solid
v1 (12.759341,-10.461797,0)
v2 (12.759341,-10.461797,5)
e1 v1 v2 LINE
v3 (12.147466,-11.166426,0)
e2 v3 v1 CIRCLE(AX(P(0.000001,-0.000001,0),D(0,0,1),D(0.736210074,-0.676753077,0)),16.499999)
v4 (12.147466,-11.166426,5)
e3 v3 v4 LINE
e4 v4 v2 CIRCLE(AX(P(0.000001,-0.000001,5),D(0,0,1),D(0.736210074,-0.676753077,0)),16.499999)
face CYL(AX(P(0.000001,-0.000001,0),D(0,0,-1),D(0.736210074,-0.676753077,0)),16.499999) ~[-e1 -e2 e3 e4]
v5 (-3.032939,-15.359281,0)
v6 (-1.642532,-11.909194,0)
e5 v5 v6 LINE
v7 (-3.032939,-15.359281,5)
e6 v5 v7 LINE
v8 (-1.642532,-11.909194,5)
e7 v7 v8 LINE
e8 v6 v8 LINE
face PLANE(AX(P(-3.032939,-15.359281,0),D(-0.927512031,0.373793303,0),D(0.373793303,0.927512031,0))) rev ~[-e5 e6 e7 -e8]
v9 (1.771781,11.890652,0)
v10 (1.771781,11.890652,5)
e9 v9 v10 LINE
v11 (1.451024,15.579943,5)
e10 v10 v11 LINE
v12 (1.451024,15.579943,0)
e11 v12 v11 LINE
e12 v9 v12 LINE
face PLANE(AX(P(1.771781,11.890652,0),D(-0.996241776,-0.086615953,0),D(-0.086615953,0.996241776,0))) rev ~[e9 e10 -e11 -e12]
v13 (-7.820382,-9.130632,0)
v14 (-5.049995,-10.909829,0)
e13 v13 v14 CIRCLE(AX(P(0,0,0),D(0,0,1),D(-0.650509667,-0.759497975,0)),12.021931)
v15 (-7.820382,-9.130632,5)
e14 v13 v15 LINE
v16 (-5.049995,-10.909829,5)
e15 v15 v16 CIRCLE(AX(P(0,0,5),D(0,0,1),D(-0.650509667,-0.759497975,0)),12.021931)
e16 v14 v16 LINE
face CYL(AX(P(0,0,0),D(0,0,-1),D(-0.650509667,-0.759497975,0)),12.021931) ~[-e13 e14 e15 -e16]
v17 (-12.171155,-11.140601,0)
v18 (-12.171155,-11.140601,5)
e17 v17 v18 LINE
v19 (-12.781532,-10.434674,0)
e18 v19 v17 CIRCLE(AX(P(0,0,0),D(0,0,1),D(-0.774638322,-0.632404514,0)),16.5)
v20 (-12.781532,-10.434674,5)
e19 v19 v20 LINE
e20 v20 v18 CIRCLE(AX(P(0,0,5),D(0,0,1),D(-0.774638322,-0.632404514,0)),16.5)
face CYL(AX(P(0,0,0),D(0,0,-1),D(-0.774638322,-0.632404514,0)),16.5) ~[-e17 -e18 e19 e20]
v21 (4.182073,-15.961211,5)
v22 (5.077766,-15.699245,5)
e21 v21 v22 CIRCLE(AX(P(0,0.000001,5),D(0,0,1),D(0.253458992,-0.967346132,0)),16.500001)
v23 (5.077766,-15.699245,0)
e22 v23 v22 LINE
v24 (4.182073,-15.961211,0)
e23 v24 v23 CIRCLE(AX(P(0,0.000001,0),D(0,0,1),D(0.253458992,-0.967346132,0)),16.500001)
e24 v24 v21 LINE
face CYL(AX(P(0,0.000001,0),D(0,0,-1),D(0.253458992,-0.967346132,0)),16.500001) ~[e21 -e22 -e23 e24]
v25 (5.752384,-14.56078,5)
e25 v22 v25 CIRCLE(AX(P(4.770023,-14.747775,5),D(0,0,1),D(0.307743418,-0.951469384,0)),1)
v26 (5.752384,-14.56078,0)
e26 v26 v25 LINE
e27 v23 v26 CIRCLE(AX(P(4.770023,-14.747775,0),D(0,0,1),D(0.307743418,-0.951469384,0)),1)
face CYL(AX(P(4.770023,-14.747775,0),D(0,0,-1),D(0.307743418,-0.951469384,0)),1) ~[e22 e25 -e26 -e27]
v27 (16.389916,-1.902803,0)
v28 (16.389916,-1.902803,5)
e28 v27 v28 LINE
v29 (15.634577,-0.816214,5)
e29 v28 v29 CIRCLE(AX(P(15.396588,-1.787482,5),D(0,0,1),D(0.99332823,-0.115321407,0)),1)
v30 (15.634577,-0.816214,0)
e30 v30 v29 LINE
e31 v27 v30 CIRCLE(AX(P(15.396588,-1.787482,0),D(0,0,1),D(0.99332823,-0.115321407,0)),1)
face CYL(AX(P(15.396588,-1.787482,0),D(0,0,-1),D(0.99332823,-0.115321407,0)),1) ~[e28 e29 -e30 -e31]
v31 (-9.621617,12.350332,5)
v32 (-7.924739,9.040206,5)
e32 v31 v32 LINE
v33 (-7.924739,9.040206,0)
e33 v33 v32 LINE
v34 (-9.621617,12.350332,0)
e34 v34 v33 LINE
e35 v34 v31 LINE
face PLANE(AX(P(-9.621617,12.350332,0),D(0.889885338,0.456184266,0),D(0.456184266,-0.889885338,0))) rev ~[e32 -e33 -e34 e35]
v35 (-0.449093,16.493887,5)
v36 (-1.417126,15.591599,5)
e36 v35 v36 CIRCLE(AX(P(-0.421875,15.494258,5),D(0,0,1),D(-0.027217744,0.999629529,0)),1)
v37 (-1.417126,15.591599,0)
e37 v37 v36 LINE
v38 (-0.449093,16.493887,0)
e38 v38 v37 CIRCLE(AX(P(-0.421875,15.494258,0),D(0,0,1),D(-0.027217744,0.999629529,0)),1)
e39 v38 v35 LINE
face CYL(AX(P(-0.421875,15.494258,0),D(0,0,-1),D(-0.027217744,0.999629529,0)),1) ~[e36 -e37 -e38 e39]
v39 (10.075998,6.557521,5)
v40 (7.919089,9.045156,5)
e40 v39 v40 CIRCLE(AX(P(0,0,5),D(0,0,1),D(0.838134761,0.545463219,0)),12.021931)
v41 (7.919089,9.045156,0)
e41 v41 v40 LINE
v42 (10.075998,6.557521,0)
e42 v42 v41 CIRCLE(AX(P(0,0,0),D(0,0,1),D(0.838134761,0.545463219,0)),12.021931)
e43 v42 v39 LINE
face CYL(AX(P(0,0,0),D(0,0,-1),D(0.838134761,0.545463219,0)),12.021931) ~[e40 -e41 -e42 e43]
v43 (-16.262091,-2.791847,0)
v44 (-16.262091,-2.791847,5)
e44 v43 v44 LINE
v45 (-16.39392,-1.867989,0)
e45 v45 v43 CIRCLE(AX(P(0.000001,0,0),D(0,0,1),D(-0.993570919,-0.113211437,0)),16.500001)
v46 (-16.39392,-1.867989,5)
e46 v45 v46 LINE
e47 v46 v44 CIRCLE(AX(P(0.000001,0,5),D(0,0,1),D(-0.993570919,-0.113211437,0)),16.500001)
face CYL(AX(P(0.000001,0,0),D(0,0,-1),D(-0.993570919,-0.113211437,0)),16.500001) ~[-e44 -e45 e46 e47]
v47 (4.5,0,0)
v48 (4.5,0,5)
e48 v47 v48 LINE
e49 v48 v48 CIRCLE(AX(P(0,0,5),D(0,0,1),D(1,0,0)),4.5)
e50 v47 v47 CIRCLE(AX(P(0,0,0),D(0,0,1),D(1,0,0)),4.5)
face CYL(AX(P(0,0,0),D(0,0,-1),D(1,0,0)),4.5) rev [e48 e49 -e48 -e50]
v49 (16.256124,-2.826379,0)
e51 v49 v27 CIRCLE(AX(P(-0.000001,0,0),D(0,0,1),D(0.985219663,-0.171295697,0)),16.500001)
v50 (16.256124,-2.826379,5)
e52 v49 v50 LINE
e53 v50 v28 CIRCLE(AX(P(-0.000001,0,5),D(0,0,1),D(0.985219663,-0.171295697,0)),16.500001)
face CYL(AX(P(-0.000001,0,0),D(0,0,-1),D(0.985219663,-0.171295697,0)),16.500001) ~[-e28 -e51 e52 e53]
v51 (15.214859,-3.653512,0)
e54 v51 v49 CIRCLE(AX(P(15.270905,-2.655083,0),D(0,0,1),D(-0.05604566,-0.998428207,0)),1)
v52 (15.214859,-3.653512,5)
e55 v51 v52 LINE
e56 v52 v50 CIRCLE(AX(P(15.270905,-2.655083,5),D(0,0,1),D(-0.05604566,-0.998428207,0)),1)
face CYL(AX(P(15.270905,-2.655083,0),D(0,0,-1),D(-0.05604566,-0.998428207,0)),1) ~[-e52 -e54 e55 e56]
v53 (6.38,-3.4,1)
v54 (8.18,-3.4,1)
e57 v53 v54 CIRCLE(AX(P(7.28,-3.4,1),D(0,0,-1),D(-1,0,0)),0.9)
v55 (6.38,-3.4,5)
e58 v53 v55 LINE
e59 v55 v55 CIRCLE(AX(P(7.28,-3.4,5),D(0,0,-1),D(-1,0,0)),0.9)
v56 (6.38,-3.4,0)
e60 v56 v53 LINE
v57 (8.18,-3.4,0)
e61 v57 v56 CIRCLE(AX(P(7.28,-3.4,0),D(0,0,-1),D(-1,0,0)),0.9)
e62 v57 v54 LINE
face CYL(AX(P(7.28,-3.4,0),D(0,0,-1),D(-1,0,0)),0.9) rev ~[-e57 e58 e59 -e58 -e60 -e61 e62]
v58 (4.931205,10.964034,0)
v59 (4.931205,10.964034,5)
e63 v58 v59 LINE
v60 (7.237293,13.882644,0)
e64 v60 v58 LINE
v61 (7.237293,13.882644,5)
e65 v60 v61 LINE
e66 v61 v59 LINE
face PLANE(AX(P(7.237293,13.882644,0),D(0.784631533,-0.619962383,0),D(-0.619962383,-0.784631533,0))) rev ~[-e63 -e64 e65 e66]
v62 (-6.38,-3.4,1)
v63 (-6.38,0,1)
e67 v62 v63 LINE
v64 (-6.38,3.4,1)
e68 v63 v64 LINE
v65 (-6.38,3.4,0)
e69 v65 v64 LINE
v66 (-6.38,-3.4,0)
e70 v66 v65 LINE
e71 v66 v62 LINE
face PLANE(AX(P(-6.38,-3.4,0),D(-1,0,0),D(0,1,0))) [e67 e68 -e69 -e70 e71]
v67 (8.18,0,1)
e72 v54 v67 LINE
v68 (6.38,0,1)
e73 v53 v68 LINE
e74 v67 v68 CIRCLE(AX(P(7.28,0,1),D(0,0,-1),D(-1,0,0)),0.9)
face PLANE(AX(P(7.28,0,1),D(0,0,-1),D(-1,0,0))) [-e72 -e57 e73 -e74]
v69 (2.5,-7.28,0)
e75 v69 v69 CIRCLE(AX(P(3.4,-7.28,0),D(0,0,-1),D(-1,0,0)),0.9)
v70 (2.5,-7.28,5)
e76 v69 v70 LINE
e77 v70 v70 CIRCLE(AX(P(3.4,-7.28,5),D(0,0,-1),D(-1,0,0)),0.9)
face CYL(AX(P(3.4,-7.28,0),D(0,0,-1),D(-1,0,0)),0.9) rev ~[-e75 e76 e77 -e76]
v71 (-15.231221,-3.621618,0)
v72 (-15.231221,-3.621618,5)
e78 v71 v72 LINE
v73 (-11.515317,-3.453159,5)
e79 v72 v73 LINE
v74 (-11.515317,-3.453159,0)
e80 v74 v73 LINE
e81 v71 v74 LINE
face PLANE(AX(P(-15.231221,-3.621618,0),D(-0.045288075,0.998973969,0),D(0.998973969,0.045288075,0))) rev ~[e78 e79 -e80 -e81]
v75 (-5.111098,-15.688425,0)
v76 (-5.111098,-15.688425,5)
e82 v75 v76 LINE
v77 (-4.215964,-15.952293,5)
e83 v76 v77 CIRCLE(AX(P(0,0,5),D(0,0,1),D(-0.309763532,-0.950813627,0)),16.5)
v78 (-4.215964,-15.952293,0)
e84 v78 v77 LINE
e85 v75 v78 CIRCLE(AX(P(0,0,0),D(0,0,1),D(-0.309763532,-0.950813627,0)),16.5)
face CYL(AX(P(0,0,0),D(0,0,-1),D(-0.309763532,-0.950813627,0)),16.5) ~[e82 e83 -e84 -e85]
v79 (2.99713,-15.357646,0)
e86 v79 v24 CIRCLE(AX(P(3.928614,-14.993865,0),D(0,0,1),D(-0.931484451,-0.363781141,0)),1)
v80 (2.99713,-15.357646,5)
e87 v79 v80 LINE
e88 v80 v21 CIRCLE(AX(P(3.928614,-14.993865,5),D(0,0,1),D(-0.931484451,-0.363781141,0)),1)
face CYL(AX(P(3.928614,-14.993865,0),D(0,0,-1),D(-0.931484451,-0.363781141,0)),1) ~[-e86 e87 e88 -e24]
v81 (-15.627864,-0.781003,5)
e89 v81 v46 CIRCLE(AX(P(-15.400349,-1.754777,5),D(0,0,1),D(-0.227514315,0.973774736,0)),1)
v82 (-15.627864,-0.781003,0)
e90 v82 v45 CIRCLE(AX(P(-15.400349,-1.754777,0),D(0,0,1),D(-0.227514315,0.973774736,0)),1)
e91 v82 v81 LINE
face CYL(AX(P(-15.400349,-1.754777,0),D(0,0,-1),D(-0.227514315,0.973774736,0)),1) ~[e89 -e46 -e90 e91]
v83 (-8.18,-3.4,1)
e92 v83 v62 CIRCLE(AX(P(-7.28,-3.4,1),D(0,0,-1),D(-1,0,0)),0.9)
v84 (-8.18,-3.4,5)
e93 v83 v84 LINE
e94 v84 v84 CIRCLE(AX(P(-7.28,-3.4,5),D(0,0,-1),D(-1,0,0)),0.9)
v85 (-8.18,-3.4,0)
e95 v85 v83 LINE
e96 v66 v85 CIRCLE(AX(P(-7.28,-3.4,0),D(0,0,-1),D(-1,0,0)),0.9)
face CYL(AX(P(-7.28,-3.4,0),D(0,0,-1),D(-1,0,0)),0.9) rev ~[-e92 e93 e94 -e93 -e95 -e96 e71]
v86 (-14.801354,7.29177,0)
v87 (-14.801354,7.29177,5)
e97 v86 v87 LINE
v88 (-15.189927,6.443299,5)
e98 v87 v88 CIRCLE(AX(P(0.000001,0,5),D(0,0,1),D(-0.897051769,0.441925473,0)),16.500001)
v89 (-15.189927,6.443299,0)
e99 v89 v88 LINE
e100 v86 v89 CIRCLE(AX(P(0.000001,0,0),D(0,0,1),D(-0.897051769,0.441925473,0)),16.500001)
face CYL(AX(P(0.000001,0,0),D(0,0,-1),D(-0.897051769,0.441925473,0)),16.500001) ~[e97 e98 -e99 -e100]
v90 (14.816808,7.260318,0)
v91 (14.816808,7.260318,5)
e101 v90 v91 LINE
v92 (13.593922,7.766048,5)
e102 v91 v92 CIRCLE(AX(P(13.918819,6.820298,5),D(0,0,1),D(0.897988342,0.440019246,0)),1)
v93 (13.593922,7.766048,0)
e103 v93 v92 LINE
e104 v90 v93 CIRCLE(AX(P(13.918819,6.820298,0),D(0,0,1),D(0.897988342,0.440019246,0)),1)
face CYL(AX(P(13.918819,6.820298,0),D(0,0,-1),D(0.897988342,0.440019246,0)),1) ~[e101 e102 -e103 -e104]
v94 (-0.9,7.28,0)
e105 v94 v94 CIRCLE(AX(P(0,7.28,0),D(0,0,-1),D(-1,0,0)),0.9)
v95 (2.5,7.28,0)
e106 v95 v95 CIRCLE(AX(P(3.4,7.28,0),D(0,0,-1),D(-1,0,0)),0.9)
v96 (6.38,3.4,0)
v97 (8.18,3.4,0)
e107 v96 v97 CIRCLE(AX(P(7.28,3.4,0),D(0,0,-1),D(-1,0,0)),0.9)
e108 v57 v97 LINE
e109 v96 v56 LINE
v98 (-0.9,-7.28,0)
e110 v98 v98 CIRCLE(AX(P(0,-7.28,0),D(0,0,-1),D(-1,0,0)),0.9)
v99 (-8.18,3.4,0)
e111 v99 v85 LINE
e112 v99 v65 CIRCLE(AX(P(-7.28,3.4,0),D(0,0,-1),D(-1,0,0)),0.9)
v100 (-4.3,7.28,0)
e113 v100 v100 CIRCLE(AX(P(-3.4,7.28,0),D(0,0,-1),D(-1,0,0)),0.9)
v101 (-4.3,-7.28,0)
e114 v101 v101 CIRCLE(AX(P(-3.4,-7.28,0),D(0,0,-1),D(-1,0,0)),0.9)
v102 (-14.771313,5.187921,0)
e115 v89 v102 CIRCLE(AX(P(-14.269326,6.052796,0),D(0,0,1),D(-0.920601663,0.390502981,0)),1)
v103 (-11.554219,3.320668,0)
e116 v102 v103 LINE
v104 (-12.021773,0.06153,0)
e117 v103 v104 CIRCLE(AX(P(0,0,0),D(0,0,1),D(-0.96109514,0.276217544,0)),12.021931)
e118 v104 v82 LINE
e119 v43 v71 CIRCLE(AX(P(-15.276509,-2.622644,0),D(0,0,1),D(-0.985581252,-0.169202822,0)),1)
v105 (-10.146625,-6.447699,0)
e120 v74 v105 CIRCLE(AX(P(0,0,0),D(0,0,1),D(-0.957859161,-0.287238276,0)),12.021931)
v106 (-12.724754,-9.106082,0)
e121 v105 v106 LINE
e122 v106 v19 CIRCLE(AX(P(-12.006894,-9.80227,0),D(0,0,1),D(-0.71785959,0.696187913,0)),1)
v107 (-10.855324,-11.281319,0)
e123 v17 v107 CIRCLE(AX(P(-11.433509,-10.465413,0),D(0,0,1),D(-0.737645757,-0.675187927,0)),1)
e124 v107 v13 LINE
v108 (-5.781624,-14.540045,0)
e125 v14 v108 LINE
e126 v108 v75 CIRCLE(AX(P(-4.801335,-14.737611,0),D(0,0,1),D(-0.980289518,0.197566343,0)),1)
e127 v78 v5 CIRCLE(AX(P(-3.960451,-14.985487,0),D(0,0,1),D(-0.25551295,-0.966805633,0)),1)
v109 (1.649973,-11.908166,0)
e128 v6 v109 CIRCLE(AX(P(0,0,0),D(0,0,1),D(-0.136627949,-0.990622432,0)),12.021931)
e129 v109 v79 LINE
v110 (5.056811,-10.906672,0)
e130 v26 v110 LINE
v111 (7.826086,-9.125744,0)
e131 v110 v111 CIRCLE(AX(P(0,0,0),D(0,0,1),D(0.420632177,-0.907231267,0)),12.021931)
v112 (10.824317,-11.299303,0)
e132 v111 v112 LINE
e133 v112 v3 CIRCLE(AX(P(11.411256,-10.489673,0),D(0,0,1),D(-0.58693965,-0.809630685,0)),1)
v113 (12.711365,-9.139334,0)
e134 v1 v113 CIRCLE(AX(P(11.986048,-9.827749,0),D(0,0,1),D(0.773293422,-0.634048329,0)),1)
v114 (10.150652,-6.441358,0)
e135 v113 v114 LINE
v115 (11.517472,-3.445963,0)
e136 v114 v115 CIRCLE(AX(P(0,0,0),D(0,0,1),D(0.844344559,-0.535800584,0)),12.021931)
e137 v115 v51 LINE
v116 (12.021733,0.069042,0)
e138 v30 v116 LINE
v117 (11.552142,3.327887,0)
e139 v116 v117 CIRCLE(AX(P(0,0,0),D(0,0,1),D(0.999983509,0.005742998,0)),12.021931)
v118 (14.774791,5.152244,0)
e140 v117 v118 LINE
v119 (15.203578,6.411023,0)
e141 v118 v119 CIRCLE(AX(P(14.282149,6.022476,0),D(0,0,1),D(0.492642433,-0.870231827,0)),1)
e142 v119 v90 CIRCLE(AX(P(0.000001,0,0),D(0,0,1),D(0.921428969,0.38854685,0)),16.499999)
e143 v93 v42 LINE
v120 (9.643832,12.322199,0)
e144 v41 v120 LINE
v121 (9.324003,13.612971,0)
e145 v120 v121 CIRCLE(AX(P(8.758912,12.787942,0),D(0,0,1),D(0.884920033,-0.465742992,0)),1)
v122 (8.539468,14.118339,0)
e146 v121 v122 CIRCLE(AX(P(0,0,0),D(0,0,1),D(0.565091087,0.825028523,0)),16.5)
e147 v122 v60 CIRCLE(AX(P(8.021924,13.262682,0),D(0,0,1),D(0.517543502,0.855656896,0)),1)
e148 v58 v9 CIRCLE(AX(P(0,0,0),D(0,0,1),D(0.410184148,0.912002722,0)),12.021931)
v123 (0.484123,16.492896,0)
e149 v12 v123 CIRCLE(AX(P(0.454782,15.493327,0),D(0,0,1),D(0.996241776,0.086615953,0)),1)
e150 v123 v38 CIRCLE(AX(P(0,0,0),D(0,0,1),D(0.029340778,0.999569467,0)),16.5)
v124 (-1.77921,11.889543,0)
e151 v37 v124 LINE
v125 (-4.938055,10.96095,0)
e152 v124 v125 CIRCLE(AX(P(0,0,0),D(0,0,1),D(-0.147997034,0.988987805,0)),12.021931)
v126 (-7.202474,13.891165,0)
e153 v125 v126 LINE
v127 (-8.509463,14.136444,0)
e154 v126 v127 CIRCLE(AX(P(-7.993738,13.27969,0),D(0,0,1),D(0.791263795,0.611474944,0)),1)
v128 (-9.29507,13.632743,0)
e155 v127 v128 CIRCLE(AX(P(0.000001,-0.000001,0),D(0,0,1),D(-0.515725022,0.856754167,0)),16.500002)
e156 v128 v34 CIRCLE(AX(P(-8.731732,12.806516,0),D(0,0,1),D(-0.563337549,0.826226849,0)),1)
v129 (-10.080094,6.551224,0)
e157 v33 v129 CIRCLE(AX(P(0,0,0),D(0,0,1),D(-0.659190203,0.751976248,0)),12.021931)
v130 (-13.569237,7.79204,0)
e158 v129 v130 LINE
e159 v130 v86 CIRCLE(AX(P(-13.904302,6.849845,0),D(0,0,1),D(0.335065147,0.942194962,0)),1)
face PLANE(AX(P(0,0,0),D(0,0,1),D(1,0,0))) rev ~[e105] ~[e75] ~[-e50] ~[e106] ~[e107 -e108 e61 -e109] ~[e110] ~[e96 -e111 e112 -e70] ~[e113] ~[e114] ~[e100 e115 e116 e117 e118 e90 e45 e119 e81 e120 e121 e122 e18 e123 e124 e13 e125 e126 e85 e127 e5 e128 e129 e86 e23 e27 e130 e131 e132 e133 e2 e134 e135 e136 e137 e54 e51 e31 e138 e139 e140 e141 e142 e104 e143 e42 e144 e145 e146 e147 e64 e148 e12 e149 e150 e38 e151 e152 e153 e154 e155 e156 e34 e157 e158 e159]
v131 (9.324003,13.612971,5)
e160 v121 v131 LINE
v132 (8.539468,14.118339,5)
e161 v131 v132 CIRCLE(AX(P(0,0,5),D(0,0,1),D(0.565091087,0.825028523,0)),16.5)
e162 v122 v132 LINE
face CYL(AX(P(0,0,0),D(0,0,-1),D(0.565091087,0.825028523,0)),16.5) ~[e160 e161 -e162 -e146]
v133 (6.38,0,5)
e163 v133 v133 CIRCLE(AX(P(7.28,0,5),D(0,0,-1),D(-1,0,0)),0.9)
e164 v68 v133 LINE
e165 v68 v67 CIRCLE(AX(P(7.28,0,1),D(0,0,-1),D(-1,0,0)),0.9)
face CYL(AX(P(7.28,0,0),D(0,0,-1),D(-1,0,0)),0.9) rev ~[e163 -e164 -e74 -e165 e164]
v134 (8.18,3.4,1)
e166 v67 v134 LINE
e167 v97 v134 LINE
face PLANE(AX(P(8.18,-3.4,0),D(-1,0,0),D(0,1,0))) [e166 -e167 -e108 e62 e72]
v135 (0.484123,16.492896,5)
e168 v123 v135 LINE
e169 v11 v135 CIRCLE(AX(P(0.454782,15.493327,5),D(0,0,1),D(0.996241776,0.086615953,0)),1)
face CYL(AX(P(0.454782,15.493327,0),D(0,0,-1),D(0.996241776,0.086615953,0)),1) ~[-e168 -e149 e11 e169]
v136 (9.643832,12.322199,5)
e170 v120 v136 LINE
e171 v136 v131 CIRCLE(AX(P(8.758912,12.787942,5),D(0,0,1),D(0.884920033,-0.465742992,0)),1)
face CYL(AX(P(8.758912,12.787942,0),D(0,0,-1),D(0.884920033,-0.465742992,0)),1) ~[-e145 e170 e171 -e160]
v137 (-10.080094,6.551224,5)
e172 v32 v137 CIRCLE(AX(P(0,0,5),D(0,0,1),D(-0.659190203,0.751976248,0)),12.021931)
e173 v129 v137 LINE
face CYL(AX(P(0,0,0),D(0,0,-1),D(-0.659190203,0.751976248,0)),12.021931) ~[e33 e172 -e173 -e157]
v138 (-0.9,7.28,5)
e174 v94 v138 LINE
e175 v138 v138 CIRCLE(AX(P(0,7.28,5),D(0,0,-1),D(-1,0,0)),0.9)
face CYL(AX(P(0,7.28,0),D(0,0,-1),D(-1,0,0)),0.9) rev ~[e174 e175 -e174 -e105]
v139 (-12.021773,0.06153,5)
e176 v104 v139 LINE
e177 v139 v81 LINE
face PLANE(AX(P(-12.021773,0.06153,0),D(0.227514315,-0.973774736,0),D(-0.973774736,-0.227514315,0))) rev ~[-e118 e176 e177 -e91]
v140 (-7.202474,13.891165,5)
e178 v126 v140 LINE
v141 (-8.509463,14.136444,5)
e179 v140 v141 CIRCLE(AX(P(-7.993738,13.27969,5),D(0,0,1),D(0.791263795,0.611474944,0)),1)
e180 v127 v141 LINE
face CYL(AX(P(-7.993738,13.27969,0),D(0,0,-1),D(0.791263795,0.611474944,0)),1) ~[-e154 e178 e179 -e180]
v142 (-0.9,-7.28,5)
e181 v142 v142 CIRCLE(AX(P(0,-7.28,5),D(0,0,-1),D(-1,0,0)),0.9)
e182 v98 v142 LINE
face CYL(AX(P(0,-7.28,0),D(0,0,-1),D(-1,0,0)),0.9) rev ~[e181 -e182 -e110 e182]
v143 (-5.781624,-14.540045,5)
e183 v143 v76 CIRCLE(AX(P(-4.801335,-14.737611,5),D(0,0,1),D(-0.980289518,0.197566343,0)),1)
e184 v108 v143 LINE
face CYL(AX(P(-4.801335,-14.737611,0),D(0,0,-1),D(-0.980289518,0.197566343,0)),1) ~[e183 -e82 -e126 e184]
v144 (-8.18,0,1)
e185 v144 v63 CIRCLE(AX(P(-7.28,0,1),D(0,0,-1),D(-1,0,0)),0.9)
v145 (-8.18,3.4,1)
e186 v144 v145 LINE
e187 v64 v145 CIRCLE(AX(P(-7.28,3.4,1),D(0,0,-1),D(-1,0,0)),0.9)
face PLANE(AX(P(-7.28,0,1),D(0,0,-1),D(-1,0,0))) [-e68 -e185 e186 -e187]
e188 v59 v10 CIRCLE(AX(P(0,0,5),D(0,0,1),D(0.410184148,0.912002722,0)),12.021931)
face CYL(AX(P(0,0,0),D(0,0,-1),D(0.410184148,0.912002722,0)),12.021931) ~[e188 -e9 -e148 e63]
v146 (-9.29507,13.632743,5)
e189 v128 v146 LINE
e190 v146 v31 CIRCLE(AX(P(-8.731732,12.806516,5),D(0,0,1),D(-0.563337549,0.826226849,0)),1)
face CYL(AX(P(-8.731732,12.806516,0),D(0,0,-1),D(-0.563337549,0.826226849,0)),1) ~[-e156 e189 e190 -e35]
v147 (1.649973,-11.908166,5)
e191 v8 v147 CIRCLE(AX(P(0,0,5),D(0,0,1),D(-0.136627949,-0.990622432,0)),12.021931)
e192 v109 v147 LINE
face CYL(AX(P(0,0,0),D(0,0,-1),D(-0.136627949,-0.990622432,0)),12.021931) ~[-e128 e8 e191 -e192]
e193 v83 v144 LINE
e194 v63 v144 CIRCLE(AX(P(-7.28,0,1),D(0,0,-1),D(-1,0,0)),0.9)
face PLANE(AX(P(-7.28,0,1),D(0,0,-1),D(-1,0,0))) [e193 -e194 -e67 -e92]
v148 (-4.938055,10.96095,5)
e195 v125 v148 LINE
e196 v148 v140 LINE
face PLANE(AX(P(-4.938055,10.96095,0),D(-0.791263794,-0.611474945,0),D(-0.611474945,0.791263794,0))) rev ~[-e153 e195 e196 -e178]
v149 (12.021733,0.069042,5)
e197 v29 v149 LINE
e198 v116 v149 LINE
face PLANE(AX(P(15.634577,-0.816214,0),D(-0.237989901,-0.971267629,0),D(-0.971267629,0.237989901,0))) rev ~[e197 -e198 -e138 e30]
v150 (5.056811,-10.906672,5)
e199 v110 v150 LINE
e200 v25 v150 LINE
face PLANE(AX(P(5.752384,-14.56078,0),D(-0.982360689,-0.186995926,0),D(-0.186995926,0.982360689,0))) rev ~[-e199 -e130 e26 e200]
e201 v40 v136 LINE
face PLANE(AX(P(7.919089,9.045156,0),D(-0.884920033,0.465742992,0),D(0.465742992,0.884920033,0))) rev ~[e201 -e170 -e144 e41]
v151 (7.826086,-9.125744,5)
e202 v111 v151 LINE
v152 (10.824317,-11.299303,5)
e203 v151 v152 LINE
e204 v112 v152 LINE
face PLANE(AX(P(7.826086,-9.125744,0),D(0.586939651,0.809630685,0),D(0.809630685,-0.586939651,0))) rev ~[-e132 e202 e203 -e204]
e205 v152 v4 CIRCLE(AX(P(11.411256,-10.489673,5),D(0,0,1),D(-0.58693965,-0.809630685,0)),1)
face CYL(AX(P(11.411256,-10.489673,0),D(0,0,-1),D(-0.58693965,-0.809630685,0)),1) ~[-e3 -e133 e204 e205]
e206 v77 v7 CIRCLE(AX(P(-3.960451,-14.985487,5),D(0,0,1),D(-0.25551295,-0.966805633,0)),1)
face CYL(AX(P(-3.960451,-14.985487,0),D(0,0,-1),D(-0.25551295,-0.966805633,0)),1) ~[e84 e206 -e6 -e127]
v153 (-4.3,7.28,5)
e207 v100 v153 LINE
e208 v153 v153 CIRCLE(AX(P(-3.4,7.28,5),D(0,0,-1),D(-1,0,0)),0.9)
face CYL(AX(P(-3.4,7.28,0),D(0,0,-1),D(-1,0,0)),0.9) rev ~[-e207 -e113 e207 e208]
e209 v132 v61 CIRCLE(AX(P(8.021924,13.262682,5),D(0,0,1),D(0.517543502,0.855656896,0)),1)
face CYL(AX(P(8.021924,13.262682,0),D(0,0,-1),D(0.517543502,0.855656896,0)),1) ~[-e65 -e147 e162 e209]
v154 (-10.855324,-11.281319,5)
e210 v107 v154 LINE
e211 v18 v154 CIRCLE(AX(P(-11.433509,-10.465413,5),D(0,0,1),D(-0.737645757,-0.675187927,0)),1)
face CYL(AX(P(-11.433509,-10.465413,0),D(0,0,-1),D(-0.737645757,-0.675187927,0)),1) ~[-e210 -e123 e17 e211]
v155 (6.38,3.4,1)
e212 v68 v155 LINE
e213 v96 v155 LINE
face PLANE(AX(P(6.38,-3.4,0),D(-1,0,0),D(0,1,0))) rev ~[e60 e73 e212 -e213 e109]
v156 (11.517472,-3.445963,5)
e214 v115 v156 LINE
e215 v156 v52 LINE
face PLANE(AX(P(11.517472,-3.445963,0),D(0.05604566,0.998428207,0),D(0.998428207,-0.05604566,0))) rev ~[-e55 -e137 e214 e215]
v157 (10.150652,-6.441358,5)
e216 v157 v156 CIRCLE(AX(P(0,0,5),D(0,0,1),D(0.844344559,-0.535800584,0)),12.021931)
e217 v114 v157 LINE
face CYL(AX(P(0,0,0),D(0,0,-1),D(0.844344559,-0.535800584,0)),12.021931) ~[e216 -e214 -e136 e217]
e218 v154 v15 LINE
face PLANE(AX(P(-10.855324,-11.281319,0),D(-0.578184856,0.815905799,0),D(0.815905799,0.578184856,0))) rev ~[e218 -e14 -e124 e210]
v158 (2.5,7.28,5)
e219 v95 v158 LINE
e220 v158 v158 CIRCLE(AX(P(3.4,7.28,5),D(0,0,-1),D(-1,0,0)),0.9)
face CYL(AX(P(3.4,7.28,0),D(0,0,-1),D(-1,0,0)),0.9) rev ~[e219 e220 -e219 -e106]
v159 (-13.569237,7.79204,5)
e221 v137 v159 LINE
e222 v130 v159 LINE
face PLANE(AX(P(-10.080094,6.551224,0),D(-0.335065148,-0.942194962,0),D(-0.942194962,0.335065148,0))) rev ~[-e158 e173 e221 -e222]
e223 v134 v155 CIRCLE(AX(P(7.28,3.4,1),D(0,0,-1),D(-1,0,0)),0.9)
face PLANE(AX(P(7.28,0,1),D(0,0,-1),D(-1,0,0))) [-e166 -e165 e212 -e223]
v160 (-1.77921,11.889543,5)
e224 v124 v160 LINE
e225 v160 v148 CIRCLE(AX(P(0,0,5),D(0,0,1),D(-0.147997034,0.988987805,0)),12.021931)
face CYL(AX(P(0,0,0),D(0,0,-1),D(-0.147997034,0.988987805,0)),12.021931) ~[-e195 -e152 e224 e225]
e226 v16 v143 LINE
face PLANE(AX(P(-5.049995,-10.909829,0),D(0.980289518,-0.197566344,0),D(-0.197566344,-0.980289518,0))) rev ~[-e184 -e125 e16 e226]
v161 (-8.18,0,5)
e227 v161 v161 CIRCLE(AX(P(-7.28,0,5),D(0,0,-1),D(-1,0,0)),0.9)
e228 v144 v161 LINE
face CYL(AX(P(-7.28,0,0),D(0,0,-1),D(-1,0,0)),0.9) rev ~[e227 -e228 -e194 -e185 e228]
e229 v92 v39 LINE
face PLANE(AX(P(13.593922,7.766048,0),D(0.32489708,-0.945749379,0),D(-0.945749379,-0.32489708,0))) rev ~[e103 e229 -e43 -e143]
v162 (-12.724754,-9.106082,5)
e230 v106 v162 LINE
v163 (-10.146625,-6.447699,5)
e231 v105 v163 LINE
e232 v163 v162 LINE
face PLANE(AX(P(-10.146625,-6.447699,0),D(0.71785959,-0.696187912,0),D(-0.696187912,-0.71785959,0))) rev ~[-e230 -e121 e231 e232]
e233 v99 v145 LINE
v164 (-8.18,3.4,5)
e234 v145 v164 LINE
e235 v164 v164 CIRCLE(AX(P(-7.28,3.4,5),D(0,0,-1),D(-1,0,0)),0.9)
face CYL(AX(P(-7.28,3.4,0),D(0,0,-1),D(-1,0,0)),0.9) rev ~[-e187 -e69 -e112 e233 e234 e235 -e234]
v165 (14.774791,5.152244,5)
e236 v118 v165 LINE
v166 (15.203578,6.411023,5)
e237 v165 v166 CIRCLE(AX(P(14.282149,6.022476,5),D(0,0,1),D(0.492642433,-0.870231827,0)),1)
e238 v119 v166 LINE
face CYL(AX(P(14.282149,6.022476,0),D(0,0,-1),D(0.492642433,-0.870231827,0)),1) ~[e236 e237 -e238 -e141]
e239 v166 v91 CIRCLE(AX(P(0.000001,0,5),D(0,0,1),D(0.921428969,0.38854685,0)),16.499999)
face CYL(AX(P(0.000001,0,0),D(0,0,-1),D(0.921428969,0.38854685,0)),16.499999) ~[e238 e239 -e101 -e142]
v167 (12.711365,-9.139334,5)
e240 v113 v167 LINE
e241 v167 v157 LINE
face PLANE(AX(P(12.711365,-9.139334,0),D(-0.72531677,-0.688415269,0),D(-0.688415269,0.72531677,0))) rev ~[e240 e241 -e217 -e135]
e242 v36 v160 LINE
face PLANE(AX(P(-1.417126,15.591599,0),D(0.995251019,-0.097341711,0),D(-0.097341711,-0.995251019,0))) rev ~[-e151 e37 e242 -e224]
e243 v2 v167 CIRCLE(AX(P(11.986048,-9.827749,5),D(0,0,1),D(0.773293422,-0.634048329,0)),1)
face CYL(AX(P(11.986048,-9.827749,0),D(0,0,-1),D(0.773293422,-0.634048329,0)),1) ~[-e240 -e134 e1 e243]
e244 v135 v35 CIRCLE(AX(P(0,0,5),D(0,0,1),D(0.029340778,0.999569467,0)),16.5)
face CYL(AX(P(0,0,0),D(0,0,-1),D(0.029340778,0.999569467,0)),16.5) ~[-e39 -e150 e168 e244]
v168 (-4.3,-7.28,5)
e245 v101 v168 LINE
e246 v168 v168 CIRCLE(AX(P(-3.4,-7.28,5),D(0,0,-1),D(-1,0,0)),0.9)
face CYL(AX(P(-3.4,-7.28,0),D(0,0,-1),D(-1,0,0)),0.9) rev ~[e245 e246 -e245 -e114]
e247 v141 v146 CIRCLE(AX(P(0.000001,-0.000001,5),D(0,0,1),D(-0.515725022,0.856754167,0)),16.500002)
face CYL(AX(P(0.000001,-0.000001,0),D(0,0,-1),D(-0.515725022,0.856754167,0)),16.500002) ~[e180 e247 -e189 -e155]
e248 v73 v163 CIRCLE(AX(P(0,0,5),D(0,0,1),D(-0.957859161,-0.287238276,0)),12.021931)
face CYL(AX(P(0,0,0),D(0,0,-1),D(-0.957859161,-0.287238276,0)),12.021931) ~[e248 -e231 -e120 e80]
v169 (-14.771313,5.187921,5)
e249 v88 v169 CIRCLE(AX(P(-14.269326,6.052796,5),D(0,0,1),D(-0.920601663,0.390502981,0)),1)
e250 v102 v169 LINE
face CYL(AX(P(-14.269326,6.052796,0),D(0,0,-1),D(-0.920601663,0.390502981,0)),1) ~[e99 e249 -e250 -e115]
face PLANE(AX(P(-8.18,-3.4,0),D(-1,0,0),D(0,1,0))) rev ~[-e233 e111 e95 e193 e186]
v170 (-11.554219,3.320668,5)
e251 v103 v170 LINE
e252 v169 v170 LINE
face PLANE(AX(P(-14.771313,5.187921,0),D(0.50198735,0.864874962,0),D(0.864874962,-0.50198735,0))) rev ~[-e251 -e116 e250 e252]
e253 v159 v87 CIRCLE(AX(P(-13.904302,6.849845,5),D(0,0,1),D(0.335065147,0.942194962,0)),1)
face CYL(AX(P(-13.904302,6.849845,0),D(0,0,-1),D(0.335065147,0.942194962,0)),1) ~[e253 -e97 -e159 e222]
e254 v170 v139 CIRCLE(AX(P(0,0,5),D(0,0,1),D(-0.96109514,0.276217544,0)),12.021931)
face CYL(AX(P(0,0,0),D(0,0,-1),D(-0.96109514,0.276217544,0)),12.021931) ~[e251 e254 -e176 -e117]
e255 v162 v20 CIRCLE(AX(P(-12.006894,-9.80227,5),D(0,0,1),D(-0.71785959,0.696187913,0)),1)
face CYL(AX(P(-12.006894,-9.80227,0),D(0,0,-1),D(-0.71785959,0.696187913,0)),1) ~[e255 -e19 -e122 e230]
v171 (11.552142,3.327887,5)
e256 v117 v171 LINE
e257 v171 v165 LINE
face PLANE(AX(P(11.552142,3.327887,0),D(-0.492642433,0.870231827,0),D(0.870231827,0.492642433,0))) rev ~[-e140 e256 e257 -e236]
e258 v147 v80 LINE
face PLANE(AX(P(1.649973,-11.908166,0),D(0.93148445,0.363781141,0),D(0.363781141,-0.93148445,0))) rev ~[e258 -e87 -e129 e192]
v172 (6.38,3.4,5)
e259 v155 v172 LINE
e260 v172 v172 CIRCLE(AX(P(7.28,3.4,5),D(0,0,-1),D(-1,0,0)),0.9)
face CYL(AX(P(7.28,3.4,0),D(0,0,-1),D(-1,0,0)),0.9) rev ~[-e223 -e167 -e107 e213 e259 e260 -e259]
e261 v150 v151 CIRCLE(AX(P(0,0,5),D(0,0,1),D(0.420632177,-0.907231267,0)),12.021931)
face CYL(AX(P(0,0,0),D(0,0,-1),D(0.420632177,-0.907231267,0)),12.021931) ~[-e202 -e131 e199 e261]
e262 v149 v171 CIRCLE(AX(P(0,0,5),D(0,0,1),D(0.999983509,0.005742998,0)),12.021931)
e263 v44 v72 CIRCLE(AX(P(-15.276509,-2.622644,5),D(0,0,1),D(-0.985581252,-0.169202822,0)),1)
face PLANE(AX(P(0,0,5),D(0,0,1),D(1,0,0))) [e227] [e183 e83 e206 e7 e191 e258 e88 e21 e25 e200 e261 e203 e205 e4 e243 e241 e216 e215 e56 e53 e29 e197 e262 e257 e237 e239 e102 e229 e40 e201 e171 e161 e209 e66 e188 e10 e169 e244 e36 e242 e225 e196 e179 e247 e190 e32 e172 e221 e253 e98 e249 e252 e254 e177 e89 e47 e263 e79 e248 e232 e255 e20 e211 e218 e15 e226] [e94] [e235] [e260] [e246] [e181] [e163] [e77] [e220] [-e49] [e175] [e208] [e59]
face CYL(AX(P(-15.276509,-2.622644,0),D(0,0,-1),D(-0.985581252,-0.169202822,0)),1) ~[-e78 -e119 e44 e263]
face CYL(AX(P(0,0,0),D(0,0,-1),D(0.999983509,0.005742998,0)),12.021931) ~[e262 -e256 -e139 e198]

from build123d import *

# Parameters (mm, degrees)
ESBO_O1_R                = 4.5
RESSALTO_EXTRUS_O1_DEPTH = 5
ESBO_O3_R                = 0.9
CORTE_EXTRUS_O4_DEPTH    = 11.8
ESBO_O5_W                = 1.8
ESBO_O5_H                = 6.8
CORTE_EXTRUS_O5_DEPTH    = 1


with BuildPart() as part:
    # Esboço1 → Ressalto-extrusão1 (new body)
    with BuildSketch(Plane.XY):
        with BuildLine():
            Line((7.237292739, 13.882644275), (4.931205446, 10.964033635))
            ThreePointArc((4.931205446, 10.964033635), (3.383365404, 11.536015744), (1.77178072, 11.89065237))
            Line((1.77178072, 11.89065237), (1.451023847, 15.579942687))
            ThreePointArc((1.451023847, 15.579942687), (1.141313879, 16.220426504), (0.484122849, 16.4928962))
            ThreePointArc((0.484122849, 16.4928962), (0.017522037, 16.499990696), (-0.449092791, 16.493887221))
            ThreePointArc((-0.449092791, 16.493887221), (-1.103704511, 16.225768855), (-1.417126065, 15.591599404))
            Line((-1.417126065, 15.591599404), (-1.779210104, 11.889542973))
            ThreePointArc((-1.779210104, 11.889542973), (-3.390572883, 11.533899437), (-4.938055227, 10.960950291))
            Line((-4.938055227, 10.960950291), (-7.202474013, 13.891164545))
            ThreePointArc((-7.202474013, 13.891164545), (-7.809290312, 14.262531969), (-8.509462826, 14.136443768))
            ThreePointArc((-8.509462826, 14.136443768), (-8.905827982, 13.890148593), (-9.295069567, 13.632743002))
            ThreePointArc((-9.295069567, 13.632743002), (-9.700808257, 13.053277663), (-9.621617356, 12.350331887))
            Line((-9.621617356, 12.350331887), (-7.924739018, 9.040206424))
            ThreePointArc((-7.924739018, 9.040206424), (-9.088028236, 7.869851554), (-10.08009353, 6.55122394))
            Line((-10.08009353, 6.55122394), (-13.569237263, 7.792039811))
            ThreePointArc((-13.569237263, 7.792039811), (-14.280500006, 7.776384308), (-14.80135418, 7.291770323))
            ThreePointArc((-14.80135418, 7.291770323), (-15.001640543, 6.870282455), (-15.189927432, 6.443299203))
            ThreePointArc((-15.189927432, 6.443299203), (-15.217973923, 5.736463043), (-14.771313119, 5.187921259))
            Line((-14.771313119, 5.187921259), (-11.554219287, 3.320668211))
            ThreePointArc((-11.554219287, 3.320668211), (-11.900098837, 1.707181407), (-12.02177336, 0.061530278))
            Line((-12.02177336, 0.061530278), (-15.627863558, -0.781002507))
            ThreePointArc((-15.627863558, -0.781002507), (-16.21775185, -1.178710425), (-16.393920163, -1.867988679))
            ThreePointArc((-16.393920163, -1.867988679), (-16.334538228, -2.330849819), (-16.262090664, -2.791846566))
            ThreePointArc((-16.262090664, -2.791846566), (-15.903540395, -3.401638061), (-15.231221337, -3.621617713))
            Line((-15.231221337, -3.621617713), (-11.51531657, -3.453158696))
            ThreePointArc((-11.51531657, -3.453158696), (-10.93397214, -4.997506773), (-10.14662509, -6.447698813))
            Line((-10.14662509, -6.447698813), (-12.724753595, -9.106082048))
            ThreePointArc((-12.724753595, -9.106082048), (-13.005982071, -9.759572927), (-12.781532328, -10.434674473))
            ThreePointArc((-12.781532328, -10.434674473), (-12.48133544, -10.791953745), (-12.171155012, -11.140600777))
            ThreePointArc((-12.171155012, -11.140600777), (-11.53984516, -11.459743115), (-10.855324398, -11.28131865))
            Line((-10.855324398, -11.28131865), (-7.820382206, -9.130632116))
            ThreePointArc((-7.820382206, -9.130632116), (-6.496386543, -10.115521864), (-5.049995046, -10.909829088))
            Line((-5.049995046, -10.909829088), (-5.781624274, -14.540044879))
            ThreePointArc((-5.781624274, -14.540044879), (-5.664904879, -15.241839982), (-5.111098288, -15.68842485))
            ThreePointArc((-5.111098288, -15.68842485), (-4.665396838, -15.826688609), (-4.215963642, -15.952292956))
            ThreePointArc((-4.215963642, -15.952292956), (-3.512330623, -15.879460702), (-3.032938663, -15.359280625))
            Line((-3.032938663, -15.359280625), (-1.642531748, -11.909194354))
            ThreePointArc((-1.642531748, -11.909194354), (0.003755879, -12.021930236), (1.649972743, -11.908165713))
            Line((1.649972743, -11.908165713), (2.997129903, -15.357646195))
            ThreePointArc((2.997129903, -15.357646195), (3.474739585, -15.884930537), (4.182073344, -15.961211187))
            ThreePointArc((4.182073344, -15.961211187), (4.631772295, -15.836561666), (5.077766396, -15.699244836))
            ThreePointArc((5.077766396, -15.699244836), (5.630324069, -15.257561714), (5.752383667, -14.560779526))
            Line((5.752383667, -14.560779526), (5.056810935, -10.90667153))
            ThreePointArc((5.056810935, -10.90667153), (6.502705837, -10.111460701), (7.826085845, -9.125743863))
            Line((7.826085845, -9.125743863), (10.824316513, -11.299303357))
            ThreePointArc((10.824316513, -11.299303357), (11.511178782, -11.484667883), (12.147466239, -11.166425748))
            ThreePointArc((12.147466239, -11.166425748), (12.458386452, -10.81843829), (12.759341481, -10.461797406))
            ThreePointArc((12.759341481, -10.461797406), (12.985390652, -9.791494687), (12.711364828, -9.139333809))
            Line((12.711364828, -9.139333809), (10.150651876, -6.441357558))
            ThreePointArc((10.150651876, -6.441357558), (10.937092637, -4.990673837), (11.517471987, -3.445962816))
            Line((11.517471987, -3.445962816), (15.21485911, -3.65351154))
            ThreePointArc((15.21485911, -3.65351154), (15.89290005, -3.438104324), (16.256124433, -2.826379032))
            ThreePointArc((16.256124433, -2.826379032), (16.329550936, -2.365537195), (16.389915799, -1.902803219))
            ThreePointArc((16.389915799, -1.902803219), (16.217687452, -1.21669728), (15.63457747, -0.816214183))
            Line((15.63457747, -0.816214183), (12.021732567, 0.069041925))
            ThreePointArc((12.021732567, 0.069041925), (11.899029803, 1.714616707), (11.552142152, 3.327887077))
            Line((11.552142152, 3.327887077), (14.774791444, 5.152244377))
            ThreePointArc((14.774791444, 5.152244377), (15.228737846, 5.700033066), (15.203577979, 6.411023056))
            ThreePointArc((15.203577979, 6.411023056), (15.016198378, 6.838405244), (14.816807657, 7.260317546))
            ThreePointArc((14.816807657, 7.260317546), (14.300983076, 7.744392916), (13.593922234, 7.766047679))
            Line((13.593922234, 7.766047679), (10.07599811, 6.557521086))
            ThreePointArc((10.07599811, 6.557521086), (9.083109081, 7.875528562), (7.919088807, 9.045156337))
            Line((7.919088807, 9.045156337), (9.643831887, 12.322199108))
            ThreePointArc((9.643831887, 12.322199108), (9.729558977, 13.028450232), (9.324002941, 13.612970622))
            ThreePointArc((9.324002941, 13.612970622), (8.935308934, 13.871202336), (8.539467774, 14.118338788))
            ThreePointArc((8.539467774, 14.118338788), (7.843817619, 14.246693081), (7.237292739, 13.882644275))
        make_face()
        Circle(ESBO_O1_R, mode=Mode.SUBTRACT)
    extrude(amount=RESSALTO_EXTRUS_O1_DEPTH)

    # Esboço3 → Corte-extrusão4 (cut)
    with BuildSketch(Plane(origin=(0, 0, 0), x_dir=(-1, 0, 0), z_dir=(0, 0, -1))):
        with Locations((3.4, 7.28)):
            Circle(ESBO_O3_R)
        with Locations((0, 7.28)):
            Circle(ESBO_O3_R)
        with Locations((-3.4, 7.28)):
            Circle(ESBO_O3_R)
        with Locations((7.28, -3.4)):
            Circle(ESBO_O3_R)
        with Locations((7.28, 0)):
            Circle(ESBO_O3_R)
        with Locations((7.28, 3.4)):
            Circle(ESBO_O3_R)
        with Locations((-3.4, -7.28)):
            Circle(ESBO_O3_R)
        with Locations((0, -7.28)):
            Circle(ESBO_O3_R)
        with Locations((3.4, -7.28)):
            Circle(ESBO_O3_R)
        with Locations((-7.28, 3.4)):
            Circle(ESBO_O3_R)
        with Locations((-7.28, 0)):
            Circle(ESBO_O3_R)
        with Locations((-7.28, -3.4)):
            Circle(ESBO_O3_R)
    extrude(amount=-CORTE_EXTRUS_O4_DEPTH, mode=Mode.SUBTRACT)

    # Esboço5 → Corte-extrusão5 (cut)
    with BuildSketch(Plane(origin=(0, 0, 0), x_dir=(-1, 0, 0), z_dir=(0, 0, -1))):
        with Locations((7.28, 0)):
            Rectangle(ESBO_O5_W, ESBO_O5_H)
        with Locations((-7.28, 0)):
            Rectangle(ESBO_O5_W, ESBO_O5_H)
    extrude(amount=-CORTE_EXTRUS_O5_DEPTH, mode=Mode.SUBTRACT)


solid = part.part
